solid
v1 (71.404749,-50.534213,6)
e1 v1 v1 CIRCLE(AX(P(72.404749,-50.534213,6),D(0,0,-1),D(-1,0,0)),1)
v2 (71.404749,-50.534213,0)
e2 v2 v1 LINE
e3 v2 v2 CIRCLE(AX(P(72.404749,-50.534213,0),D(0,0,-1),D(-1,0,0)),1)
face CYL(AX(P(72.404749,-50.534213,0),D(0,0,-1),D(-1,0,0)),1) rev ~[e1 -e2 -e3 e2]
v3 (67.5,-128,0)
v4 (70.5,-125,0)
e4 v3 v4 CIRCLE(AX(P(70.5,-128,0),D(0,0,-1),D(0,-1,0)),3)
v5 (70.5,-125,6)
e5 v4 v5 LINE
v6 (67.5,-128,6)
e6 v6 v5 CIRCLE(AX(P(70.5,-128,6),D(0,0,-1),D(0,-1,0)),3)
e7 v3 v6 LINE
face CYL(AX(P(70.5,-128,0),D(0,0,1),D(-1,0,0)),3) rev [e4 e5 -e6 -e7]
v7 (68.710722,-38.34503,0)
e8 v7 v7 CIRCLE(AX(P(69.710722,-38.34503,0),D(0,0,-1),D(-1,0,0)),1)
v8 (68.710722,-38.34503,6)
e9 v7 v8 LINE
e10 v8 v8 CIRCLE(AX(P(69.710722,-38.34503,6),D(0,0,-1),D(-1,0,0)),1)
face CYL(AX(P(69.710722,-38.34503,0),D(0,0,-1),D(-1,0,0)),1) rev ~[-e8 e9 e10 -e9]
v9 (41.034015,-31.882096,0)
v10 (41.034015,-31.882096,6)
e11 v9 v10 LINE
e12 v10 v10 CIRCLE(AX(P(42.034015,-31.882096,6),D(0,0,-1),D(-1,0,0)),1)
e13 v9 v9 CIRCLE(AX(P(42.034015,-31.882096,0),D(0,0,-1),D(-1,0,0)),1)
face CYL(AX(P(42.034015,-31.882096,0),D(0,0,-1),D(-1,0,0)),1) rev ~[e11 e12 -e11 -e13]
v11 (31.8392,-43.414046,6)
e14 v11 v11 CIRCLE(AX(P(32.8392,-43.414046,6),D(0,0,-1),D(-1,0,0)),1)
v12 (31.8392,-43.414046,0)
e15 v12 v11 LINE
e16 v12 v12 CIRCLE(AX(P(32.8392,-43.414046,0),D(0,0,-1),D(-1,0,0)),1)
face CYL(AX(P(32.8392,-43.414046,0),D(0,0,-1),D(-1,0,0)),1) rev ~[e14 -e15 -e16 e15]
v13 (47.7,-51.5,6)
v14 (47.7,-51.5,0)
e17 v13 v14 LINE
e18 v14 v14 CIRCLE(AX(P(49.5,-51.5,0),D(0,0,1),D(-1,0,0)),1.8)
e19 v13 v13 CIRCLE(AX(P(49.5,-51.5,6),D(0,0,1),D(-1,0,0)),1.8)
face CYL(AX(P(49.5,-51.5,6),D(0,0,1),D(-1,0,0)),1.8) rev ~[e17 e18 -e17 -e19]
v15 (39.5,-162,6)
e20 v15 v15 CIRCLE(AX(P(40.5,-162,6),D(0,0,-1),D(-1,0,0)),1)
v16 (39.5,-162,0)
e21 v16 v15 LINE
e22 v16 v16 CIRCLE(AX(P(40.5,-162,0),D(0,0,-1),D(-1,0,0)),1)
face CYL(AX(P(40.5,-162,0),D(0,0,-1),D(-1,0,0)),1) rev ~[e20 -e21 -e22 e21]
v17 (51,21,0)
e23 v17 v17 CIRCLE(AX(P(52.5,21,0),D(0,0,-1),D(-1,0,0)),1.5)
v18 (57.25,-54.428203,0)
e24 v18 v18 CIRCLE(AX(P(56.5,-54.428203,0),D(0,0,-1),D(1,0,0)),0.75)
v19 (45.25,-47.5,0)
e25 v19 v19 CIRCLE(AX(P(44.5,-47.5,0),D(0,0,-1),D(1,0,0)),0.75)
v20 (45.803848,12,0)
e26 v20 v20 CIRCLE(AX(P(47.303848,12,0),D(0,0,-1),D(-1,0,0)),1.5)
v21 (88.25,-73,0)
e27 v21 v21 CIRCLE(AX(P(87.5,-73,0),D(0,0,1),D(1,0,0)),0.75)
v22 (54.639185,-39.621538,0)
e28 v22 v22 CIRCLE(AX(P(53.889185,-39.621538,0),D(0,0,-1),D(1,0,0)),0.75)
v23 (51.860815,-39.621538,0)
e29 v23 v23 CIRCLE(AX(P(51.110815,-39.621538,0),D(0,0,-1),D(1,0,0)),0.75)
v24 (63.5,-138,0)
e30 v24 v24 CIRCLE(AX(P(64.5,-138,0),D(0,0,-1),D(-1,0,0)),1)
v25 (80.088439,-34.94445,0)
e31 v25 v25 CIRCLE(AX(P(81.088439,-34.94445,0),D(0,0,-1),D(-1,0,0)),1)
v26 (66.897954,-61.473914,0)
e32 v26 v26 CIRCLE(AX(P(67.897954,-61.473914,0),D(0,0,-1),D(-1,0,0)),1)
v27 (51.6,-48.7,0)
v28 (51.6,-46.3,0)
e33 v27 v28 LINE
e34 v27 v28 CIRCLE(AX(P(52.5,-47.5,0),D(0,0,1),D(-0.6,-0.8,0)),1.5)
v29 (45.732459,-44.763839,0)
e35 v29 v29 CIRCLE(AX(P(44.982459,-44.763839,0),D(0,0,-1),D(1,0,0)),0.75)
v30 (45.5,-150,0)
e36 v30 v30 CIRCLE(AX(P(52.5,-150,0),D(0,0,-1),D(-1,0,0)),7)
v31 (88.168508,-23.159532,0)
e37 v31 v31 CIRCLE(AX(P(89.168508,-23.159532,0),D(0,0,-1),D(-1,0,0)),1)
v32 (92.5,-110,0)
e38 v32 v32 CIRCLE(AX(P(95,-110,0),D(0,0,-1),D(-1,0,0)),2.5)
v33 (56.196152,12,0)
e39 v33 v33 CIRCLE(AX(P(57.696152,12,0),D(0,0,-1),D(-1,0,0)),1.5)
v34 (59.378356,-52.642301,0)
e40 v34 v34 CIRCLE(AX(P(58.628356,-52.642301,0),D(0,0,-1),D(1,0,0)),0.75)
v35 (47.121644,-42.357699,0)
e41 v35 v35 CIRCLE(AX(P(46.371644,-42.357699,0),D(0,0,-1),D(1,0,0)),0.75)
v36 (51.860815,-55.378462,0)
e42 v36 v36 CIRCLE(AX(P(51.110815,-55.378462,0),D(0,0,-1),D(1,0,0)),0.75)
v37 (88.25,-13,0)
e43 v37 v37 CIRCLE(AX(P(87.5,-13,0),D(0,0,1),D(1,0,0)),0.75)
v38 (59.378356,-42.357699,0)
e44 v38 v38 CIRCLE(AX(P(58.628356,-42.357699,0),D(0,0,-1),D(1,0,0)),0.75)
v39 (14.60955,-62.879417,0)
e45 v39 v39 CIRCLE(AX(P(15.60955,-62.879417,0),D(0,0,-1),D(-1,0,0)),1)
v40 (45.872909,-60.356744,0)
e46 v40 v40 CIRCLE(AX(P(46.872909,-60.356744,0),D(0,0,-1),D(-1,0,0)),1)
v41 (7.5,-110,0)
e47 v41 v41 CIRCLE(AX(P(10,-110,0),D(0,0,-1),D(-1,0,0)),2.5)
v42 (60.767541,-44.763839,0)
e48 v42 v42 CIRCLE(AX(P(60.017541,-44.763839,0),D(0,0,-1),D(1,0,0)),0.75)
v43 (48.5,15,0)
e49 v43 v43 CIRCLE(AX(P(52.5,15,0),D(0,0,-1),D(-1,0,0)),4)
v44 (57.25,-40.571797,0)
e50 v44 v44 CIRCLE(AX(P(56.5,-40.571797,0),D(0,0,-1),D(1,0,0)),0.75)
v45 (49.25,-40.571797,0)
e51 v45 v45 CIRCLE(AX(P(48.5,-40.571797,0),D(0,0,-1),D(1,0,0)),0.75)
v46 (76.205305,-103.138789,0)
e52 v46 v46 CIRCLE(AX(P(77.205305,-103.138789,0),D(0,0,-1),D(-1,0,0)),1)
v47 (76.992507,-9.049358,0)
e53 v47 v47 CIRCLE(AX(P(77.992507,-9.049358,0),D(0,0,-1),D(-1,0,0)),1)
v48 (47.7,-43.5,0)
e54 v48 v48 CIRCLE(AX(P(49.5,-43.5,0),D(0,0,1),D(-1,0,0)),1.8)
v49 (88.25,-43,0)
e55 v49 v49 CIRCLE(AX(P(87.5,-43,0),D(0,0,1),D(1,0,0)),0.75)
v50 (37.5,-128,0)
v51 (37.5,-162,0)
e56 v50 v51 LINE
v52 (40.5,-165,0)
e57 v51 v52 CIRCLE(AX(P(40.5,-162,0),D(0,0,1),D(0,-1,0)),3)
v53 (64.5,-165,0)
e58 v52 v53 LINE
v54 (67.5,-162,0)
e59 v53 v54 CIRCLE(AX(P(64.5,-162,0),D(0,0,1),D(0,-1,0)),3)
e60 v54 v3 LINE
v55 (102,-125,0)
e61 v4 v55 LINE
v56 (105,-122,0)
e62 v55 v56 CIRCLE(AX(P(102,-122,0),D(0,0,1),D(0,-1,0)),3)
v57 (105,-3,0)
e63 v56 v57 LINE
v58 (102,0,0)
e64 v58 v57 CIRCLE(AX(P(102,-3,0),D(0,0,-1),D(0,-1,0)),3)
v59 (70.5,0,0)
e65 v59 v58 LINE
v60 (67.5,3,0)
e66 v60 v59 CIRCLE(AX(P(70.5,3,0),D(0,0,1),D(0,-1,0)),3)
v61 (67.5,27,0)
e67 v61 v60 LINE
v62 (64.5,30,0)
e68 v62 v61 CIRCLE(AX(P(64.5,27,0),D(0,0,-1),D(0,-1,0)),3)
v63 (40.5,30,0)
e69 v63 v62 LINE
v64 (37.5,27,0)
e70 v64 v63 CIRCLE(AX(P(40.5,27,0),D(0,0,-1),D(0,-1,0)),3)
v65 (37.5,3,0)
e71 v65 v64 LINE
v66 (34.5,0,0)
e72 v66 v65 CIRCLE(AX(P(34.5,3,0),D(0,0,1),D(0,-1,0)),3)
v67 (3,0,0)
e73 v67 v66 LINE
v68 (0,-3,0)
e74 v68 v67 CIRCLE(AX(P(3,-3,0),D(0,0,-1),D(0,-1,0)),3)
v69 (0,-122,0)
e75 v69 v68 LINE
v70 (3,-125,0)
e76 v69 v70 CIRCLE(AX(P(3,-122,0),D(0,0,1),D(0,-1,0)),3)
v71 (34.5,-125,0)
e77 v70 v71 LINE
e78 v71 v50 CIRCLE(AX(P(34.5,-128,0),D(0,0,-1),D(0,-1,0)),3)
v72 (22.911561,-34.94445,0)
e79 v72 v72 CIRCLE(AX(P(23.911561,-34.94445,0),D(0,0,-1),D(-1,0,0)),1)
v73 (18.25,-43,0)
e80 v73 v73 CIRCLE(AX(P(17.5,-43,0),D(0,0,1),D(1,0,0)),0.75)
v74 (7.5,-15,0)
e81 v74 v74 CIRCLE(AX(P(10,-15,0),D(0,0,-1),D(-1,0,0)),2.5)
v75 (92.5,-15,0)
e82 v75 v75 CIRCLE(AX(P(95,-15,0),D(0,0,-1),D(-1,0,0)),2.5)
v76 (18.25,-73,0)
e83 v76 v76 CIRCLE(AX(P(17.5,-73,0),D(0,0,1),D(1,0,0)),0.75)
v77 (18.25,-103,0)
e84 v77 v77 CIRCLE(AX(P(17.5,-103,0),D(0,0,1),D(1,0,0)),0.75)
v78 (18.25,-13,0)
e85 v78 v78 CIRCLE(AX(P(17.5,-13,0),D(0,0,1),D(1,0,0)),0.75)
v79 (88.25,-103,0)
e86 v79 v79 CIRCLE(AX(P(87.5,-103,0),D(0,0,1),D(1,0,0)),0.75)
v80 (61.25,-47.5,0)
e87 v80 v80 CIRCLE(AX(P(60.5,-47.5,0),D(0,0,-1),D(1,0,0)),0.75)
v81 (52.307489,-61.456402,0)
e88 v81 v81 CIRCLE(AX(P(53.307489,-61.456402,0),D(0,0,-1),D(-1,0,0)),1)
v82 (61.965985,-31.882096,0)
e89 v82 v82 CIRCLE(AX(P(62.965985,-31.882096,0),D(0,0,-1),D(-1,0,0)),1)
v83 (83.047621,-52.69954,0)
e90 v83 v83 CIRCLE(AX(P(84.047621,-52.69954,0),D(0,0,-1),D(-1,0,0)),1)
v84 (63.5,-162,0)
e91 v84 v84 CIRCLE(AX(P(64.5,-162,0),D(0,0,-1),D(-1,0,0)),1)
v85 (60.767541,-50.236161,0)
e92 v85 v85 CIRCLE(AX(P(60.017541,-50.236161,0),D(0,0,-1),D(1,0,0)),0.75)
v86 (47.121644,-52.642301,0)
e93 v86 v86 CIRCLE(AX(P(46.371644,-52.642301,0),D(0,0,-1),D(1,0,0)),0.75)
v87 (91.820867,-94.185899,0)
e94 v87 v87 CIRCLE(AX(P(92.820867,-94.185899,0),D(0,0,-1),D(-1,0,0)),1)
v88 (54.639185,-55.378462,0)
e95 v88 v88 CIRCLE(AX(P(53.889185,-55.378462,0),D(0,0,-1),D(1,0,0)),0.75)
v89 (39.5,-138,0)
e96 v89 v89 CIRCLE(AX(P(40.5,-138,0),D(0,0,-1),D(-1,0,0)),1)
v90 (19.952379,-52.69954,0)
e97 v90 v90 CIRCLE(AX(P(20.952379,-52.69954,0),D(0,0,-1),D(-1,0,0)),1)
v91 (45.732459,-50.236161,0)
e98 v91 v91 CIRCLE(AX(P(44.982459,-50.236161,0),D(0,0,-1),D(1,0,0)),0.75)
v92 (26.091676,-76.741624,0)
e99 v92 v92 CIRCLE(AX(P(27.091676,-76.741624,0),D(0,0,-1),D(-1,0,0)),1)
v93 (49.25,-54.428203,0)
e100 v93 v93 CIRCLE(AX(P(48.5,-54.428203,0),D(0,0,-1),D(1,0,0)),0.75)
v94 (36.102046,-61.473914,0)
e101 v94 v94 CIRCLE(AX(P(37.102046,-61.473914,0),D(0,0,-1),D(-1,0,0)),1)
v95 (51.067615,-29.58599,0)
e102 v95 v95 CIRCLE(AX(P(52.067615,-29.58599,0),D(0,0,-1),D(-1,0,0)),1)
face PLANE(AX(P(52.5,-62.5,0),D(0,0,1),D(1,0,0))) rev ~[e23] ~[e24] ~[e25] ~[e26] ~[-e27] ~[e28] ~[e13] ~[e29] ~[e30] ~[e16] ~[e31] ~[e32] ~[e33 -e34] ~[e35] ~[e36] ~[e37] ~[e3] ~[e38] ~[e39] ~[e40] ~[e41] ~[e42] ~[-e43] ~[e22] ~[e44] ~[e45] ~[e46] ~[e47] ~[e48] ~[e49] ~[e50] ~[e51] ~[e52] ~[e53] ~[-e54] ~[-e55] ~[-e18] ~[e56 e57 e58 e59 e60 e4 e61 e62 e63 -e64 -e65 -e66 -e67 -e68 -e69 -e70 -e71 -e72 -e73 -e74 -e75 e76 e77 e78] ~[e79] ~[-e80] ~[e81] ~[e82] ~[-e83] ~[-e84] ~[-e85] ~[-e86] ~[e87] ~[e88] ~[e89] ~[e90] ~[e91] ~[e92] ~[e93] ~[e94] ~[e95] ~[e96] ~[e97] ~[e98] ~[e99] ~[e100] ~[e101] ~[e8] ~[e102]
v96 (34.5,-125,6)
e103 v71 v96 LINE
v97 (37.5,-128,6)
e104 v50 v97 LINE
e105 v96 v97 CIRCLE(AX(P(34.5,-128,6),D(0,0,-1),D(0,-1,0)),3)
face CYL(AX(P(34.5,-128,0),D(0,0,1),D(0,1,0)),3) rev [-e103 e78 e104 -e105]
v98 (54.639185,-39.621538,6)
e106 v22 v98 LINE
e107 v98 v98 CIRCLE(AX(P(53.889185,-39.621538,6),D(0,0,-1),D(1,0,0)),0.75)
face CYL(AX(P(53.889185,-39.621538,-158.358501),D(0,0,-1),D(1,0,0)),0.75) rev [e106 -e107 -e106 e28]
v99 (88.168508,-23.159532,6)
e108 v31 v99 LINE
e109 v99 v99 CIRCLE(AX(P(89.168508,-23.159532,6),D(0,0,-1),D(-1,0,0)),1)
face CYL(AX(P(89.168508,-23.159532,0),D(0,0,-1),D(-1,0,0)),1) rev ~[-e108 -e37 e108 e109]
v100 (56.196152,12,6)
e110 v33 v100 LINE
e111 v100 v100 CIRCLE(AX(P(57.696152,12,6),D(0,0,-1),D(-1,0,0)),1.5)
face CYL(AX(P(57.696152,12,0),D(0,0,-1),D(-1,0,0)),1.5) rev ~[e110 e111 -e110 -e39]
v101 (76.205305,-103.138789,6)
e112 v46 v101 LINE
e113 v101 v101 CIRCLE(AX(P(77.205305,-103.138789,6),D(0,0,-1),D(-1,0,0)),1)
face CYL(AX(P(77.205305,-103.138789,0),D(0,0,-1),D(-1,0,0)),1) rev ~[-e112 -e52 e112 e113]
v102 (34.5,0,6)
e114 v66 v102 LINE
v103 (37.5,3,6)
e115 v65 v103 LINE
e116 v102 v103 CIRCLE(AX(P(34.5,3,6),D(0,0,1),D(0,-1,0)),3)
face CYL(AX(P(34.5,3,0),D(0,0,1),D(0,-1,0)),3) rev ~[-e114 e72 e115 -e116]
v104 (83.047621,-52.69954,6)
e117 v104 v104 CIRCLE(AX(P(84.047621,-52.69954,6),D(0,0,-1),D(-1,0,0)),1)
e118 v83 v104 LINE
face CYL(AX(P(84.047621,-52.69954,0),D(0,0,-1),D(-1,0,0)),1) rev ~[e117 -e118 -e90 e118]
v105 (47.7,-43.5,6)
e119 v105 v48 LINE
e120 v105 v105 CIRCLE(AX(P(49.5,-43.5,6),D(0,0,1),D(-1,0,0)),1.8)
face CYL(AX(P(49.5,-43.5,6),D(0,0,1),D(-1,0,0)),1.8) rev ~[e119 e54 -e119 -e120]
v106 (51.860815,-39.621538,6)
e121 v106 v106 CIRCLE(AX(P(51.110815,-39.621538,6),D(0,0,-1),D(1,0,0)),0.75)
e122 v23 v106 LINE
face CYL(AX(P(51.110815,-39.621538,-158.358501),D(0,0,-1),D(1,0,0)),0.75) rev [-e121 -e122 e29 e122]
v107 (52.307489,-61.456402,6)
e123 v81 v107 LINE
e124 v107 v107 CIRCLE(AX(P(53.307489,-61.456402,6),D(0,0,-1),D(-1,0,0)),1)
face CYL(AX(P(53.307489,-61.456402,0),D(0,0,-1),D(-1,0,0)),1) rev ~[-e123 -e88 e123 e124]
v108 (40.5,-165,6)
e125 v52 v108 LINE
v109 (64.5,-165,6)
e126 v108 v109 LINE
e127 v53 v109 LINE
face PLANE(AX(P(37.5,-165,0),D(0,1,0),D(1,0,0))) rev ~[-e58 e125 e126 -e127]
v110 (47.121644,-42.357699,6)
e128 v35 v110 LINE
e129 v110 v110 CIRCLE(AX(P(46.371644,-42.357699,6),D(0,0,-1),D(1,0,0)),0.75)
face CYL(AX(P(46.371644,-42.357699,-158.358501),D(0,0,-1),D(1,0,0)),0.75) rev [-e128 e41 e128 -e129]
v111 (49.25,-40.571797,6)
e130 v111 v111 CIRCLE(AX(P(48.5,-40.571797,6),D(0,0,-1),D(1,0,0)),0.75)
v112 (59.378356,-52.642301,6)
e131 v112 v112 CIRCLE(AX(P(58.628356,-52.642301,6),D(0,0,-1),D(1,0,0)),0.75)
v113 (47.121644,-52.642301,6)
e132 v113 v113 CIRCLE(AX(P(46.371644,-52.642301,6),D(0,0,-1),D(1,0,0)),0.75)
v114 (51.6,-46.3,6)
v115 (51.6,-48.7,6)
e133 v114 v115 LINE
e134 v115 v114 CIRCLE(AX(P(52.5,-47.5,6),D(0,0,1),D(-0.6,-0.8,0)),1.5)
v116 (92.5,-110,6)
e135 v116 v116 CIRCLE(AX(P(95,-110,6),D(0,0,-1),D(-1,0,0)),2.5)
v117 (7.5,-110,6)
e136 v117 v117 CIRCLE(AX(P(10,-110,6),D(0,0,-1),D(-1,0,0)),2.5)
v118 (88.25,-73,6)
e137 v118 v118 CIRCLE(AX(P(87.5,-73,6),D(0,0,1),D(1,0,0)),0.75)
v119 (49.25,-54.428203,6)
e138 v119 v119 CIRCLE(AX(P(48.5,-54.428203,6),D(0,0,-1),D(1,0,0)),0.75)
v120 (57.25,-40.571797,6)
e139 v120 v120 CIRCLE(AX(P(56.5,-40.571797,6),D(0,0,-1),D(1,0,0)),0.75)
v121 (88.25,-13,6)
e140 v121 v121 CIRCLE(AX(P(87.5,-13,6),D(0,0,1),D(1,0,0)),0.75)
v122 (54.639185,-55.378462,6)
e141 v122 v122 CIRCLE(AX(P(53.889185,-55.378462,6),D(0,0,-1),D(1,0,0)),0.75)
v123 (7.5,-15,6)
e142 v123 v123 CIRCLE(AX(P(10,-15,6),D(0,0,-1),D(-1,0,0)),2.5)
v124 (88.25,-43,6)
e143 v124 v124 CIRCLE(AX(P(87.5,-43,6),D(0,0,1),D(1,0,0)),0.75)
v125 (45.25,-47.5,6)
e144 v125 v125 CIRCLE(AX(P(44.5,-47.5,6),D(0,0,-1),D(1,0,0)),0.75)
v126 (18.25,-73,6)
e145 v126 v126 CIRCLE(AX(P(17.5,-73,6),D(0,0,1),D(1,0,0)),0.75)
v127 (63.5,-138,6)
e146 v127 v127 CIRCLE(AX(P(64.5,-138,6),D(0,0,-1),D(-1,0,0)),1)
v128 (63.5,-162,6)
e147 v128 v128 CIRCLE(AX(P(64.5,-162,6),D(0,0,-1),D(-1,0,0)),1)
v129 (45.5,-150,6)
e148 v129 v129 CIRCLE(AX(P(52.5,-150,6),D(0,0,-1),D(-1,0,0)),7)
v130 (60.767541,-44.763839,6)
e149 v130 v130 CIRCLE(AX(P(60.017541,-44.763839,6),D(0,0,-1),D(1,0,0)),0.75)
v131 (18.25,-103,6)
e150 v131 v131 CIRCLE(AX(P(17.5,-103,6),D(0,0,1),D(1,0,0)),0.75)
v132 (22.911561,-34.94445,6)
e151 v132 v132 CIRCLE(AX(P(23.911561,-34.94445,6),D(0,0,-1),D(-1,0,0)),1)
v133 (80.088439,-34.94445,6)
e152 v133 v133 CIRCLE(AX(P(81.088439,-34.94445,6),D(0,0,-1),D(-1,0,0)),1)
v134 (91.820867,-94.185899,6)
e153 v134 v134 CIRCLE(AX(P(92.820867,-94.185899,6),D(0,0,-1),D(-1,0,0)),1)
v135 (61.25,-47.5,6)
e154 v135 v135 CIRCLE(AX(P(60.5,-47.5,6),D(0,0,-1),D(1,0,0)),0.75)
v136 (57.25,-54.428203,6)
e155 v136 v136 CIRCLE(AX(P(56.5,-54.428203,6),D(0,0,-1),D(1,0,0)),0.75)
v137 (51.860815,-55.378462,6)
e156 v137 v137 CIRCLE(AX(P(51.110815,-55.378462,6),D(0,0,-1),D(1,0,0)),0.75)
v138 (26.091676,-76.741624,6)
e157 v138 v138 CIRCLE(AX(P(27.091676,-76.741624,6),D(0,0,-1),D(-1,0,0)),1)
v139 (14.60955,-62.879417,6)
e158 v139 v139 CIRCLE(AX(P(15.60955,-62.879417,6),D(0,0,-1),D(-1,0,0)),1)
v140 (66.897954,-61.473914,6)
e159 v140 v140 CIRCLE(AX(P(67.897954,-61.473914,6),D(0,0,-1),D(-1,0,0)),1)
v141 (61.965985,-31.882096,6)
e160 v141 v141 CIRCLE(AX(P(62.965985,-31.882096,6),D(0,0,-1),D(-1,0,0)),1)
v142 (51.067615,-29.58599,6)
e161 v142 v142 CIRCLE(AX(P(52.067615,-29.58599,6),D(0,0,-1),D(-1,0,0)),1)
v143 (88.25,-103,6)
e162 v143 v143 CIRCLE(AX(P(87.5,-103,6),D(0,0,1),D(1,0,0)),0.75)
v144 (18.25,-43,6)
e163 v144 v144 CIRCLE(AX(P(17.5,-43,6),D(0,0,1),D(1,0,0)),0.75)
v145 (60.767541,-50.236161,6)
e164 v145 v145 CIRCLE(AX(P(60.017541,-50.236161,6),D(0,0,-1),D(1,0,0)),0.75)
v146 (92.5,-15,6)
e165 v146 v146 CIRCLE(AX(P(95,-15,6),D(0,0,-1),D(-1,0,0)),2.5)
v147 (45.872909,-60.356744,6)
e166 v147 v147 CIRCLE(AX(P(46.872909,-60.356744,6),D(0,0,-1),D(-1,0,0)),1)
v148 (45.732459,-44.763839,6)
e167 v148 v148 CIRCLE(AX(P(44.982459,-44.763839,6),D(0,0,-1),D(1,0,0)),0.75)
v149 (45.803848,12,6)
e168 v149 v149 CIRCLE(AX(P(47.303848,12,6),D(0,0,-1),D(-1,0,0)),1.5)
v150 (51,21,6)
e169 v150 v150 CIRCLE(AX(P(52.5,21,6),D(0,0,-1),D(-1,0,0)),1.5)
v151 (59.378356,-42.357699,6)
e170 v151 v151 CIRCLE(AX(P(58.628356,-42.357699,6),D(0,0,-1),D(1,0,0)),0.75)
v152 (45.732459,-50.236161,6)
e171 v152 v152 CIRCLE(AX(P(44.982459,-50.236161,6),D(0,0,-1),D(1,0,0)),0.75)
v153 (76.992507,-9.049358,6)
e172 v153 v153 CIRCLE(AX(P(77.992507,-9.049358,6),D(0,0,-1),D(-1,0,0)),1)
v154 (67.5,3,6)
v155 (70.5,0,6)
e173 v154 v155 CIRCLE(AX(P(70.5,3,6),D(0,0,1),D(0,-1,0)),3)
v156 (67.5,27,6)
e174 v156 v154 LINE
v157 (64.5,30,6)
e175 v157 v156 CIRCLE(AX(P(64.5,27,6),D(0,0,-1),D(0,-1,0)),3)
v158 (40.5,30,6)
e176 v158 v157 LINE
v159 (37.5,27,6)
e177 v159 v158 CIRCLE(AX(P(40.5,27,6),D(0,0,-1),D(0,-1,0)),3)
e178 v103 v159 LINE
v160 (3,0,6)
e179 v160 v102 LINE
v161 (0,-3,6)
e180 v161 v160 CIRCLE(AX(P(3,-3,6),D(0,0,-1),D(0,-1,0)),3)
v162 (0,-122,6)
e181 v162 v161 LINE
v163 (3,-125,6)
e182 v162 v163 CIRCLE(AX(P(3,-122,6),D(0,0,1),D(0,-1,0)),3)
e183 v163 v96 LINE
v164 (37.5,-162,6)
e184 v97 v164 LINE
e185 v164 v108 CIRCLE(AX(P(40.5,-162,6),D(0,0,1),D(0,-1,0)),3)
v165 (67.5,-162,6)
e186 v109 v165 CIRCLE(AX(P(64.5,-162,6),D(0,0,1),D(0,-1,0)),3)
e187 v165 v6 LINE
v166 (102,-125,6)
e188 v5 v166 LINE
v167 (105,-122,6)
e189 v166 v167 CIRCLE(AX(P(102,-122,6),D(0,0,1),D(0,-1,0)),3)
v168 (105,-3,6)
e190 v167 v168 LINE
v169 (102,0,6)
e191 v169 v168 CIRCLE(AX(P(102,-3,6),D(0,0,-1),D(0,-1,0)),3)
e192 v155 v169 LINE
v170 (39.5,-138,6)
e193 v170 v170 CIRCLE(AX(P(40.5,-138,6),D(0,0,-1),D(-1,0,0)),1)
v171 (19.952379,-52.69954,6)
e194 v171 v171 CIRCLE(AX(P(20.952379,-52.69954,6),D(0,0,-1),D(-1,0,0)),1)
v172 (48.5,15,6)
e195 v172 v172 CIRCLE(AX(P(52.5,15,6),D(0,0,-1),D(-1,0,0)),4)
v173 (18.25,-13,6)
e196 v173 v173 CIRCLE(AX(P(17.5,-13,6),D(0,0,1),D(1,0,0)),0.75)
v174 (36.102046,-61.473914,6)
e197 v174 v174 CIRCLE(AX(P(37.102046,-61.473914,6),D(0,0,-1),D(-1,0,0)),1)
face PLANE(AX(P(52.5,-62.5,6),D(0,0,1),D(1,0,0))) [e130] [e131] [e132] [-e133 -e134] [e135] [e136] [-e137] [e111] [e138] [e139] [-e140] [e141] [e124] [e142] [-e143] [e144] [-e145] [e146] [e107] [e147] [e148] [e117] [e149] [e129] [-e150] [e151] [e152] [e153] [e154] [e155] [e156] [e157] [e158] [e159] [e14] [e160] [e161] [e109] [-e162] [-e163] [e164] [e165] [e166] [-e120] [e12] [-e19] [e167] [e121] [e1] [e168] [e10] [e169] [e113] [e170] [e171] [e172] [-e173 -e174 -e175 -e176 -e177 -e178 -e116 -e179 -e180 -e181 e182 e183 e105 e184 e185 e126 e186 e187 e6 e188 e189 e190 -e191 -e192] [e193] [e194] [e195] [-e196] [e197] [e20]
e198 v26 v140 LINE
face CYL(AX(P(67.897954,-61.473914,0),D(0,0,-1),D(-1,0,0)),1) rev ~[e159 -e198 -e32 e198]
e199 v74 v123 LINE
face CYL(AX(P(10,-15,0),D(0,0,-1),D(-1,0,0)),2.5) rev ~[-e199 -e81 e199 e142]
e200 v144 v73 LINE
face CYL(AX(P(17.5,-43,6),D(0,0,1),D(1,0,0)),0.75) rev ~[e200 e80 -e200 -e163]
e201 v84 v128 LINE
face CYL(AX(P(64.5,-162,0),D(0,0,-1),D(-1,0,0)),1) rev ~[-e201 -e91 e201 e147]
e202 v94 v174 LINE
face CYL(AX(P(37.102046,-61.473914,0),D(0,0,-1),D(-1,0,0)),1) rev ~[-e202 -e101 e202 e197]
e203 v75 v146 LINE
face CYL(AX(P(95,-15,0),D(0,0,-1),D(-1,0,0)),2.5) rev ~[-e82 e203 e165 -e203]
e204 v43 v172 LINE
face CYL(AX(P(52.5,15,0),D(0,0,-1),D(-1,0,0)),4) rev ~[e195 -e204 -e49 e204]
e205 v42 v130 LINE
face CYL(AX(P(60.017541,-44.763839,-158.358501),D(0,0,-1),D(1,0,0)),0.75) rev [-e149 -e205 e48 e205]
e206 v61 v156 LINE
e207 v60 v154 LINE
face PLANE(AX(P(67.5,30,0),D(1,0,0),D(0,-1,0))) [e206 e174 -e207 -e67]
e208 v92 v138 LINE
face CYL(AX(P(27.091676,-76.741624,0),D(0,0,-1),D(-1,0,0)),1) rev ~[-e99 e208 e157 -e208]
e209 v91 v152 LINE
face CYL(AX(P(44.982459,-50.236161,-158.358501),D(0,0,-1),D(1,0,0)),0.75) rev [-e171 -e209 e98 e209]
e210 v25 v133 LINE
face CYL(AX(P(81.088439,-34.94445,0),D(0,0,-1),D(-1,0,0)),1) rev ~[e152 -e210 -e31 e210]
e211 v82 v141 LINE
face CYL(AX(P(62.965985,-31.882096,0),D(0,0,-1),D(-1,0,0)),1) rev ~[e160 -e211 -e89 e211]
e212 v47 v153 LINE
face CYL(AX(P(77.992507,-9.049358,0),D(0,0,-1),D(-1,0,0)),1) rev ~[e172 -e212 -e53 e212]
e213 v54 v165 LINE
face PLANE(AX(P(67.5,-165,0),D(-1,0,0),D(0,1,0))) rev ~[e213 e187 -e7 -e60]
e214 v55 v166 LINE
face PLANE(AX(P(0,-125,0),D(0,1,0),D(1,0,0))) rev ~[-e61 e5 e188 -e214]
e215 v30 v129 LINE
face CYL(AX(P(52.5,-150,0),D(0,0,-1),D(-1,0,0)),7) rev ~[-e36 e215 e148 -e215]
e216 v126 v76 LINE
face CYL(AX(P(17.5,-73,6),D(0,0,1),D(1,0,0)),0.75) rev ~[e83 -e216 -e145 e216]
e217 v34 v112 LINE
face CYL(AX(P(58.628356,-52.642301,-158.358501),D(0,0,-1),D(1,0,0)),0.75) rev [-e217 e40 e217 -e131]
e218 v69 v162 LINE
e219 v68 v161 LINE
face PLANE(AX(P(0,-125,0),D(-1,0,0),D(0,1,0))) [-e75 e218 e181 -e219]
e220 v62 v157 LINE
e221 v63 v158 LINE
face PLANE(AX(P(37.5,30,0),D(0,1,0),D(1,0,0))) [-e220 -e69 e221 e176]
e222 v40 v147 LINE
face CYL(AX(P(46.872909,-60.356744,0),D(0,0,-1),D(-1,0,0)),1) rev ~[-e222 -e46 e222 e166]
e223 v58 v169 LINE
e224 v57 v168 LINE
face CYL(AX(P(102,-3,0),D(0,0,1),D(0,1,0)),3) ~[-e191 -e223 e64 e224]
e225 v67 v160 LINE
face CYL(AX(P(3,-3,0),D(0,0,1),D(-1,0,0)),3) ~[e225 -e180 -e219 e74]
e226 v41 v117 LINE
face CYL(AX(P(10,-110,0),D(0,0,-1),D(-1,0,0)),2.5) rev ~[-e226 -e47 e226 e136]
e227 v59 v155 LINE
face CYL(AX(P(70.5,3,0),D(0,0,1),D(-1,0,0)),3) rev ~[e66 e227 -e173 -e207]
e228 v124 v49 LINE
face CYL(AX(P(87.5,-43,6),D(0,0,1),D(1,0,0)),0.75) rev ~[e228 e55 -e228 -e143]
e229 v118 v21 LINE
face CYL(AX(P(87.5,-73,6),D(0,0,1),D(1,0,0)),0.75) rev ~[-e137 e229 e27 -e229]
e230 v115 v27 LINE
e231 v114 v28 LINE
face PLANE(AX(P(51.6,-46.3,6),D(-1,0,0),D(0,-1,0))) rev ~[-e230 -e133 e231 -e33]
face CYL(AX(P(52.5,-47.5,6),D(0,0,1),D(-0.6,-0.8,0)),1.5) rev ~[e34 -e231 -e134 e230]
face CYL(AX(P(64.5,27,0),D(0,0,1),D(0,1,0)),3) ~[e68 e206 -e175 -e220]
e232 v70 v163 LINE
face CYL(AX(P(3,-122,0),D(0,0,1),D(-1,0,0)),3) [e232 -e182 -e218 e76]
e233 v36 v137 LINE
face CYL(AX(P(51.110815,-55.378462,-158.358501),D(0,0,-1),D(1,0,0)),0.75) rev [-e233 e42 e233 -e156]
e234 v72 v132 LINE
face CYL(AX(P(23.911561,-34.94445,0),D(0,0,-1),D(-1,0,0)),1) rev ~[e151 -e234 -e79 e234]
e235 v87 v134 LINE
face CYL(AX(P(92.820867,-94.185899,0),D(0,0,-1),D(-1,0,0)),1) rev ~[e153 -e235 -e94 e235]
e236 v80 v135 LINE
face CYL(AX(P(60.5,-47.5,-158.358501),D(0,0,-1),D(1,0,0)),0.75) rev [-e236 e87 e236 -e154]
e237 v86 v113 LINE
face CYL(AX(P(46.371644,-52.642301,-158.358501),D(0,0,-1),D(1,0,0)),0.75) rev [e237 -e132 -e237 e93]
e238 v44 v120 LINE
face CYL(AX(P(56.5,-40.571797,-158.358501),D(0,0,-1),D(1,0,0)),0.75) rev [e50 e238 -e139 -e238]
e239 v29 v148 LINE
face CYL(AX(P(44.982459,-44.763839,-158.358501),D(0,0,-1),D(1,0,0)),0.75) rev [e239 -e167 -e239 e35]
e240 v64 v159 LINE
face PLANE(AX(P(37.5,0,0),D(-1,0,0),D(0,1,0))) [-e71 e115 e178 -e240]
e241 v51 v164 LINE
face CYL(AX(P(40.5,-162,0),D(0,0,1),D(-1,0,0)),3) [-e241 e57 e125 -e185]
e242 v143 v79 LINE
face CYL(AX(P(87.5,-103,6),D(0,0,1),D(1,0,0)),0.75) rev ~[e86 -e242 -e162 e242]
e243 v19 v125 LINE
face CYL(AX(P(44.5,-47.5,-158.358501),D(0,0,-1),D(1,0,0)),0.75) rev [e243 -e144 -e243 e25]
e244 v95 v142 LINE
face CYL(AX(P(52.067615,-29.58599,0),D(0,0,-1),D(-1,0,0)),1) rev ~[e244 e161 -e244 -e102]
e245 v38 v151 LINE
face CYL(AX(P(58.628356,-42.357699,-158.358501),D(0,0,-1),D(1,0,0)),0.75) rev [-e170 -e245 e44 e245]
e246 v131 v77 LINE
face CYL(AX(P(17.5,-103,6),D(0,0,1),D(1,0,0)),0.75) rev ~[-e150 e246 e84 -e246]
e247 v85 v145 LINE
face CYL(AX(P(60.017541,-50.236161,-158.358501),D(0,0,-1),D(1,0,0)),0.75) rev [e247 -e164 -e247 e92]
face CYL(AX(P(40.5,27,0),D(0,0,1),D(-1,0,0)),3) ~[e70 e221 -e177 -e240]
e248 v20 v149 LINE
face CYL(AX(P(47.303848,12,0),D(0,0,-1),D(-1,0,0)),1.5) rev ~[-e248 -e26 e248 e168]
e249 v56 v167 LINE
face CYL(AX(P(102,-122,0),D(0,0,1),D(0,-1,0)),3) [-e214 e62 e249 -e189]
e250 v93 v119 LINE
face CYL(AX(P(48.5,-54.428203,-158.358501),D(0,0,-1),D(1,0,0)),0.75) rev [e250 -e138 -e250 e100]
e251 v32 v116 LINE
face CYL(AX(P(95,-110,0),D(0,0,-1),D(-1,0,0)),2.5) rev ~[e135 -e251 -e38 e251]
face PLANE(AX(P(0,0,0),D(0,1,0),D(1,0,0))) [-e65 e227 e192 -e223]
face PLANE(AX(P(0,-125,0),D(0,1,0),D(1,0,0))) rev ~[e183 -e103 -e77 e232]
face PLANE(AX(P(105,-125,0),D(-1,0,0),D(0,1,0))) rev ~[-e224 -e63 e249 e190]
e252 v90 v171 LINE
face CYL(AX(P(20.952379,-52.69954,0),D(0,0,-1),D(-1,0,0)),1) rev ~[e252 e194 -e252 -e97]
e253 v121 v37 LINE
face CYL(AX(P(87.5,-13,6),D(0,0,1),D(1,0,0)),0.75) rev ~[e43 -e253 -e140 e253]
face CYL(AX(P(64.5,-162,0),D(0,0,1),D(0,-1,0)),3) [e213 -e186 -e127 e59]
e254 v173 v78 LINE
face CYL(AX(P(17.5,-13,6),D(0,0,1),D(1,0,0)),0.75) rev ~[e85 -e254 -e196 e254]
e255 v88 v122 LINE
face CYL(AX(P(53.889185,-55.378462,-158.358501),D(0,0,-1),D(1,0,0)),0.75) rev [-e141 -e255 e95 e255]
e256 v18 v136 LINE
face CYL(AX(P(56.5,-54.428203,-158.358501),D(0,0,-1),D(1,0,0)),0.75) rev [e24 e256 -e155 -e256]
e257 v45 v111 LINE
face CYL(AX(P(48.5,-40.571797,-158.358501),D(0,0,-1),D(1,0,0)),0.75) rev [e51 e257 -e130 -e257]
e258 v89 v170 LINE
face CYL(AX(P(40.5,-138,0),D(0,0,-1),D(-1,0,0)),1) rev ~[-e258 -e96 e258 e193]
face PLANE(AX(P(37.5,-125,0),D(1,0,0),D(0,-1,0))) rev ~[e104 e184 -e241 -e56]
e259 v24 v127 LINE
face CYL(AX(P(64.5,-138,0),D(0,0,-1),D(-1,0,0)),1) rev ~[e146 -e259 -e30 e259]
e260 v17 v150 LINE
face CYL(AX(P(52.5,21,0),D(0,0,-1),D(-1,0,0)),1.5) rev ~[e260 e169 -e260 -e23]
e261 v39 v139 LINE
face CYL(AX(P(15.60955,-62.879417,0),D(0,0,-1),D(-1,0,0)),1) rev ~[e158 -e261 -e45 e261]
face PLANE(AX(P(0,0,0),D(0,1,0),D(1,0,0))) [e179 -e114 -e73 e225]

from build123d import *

# Parameters (mm, degrees)
SKETCH_1_W                      = 105
SKETCH_1_H                      = 125
EXTRUDE_1_DEPTH                 = 6
CUT_EXTRUDE_1_REACH             = 165.359
SKETCH_2_R                      = 0.75
FILLET_1_R                      = 3
CUT_EXTRUDE_2_REACH             = 165.359
SKETCH_3_R                      = 1.8
CUT_EXTRUDE_2_DIRECTION_2_DEPTH = 164.358501462
CUT_EXTRUDE1_DEPTH              = 164.358501462
CUT_EXTRUDE1_DEPTH_BACK         = 164.358501462
SKETCH1_R                       = 0.75
CUT_EXTRUDE2_REACH              = 165.359
SKETCH2_R                       = 1
BOSS_EXTRUDE1_DEPTH             = 6
CUT_EXTRUDE3_REACH              = 197.668
SKETCH4_R                       = 4
SKETCH4_R_2                     = 1.5
FILLET1_R                       = 3
CUT_EXTRUDE4_REACH              = 197.668
SKETCH5_R                       = 2.5
CUT_EXTRUDE5_REACH              = 197.668
SKETCH6_R                       = 1
SKETCH6_R_2                     = 7
FILLET2_R                       = 3


with BuildPart() as part:
    # 草图1 → 凸台-拉伸1 (new body)
    with BuildSketch(Plane.XY):
        with Locations((52.5, -62.5)):
            Rectangle(SKETCH_1_W, SKETCH_1_H)
    extrude(amount=EXTRUDE_1_DEPTH)

    # 草图2 → 切除-拉伸1 (cut, up to next)
    with BuildSketch(Plane.XY.offset(6), mode=Mode.PRIVATE) as cut_extrude_1_sk1:
        with Locations((17.5, -13)):
            Circle(SKETCH_2_R)
    cut_extrude_1_tool1 = extrude(cut_extrude_1_sk1.sketch, amount=-CUT_EXTRUDE_1_REACH, mode=Mode.PRIVATE) & part.part
    # 草图2 → 切除-拉伸1 (cut, up to next)
    with BuildSketch(Plane.XY.offset(6), mode=Mode.PRIVATE) as cut_extrude_1_sk2:
        with Locations((87.5, -13)):
            Circle(SKETCH_2_R)
    cut_extrude_1_tool2 = extrude(cut_extrude_1_sk2.sketch, amount=-CUT_EXTRUDE_1_REACH, mode=Mode.PRIVATE) & part.part
    # 草图2 → 切除-拉伸1 (cut, up to next)
    with BuildSketch(Plane.XY.offset(6), mode=Mode.PRIVATE) as cut_extrude_1_sk3:
        with Locations((87.5, -43)):
            Circle(SKETCH_2_R)
    cut_extrude_1_tool3 = extrude(cut_extrude_1_sk3.sketch, amount=-CUT_EXTRUDE_1_REACH, mode=Mode.PRIVATE) & part.part
    # 草图2 → 切除-拉伸1 (cut, up to next)
    with BuildSketch(Plane.XY.offset(6), mode=Mode.PRIVATE) as cut_extrude_1_sk4:
        with Locations((87.5, -73)):
            Circle(SKETCH_2_R)
    cut_extrude_1_tool4 = extrude(cut_extrude_1_sk4.sketch, amount=-CUT_EXTRUDE_1_REACH, mode=Mode.PRIVATE) & part.part
    # 草图2 → 切除-拉伸1 (cut, up to next)
    with BuildSketch(Plane.XY.offset(6), mode=Mode.PRIVATE) as cut_extrude_1_sk5:
        with Locations((87.5, -103)):
            Circle(SKETCH_2_R)
    cut_extrude_1_tool5 = extrude(cut_extrude_1_sk5.sketch, amount=-CUT_EXTRUDE_1_REACH, mode=Mode.PRIVATE) & part.part
    # 草图2 → 切除-拉伸1 (cut, up to next)
    with BuildSketch(Plane.XY.offset(6), mode=Mode.PRIVATE) as cut_extrude_1_sk6:
        with Locations((17.5, -43)):
            Circle(SKETCH_2_R)
    cut_extrude_1_tool6 = extrude(cut_extrude_1_sk6.sketch, amount=-CUT_EXTRUDE_1_REACH, mode=Mode.PRIVATE) & part.part
    # 草图2 → 切除-拉伸1 (cut, up to next)
    with BuildSketch(Plane.XY.offset(6), mode=Mode.PRIVATE) as cut_extrude_1_sk7:
        with Locations((17.5, -73)):
            Circle(SKETCH_2_R)
    cut_extrude_1_tool7 = extrude(cut_extrude_1_sk7.sketch, amount=-CUT_EXTRUDE_1_REACH, mode=Mode.PRIVATE) & part.part
    # 草图2 → 切除-拉伸1 (cut, up to next)
    with BuildSketch(Plane.XY.offset(6), mode=Mode.PRIVATE) as cut_extrude_1_sk8:
        with Locations((17.5, -103)):
            Circle(SKETCH_2_R)
    cut_extrude_1_tool8 = extrude(cut_extrude_1_sk8.sketch, amount=-CUT_EXTRUDE_1_REACH, mode=Mode.PRIVATE) & part.part
    add(cut_extrude_1_tool1.solids().sort_by_distance((17.5, -13, 6))[0], mode=Mode.SUBTRACT)
    add(cut_extrude_1_tool2.solids().sort_by_distance((87.5, -13, 6))[0], mode=Mode.SUBTRACT)
    add(cut_extrude_1_tool3.solids().sort_by_distance((87.5, -43, 6))[0], mode=Mode.SUBTRACT)
    add(cut_extrude_1_tool4.solids().sort_by_distance((87.5, -73, 6))[0], mode=Mode.SUBTRACT)
    add(cut_extrude_1_tool5.solids().sort_by_distance((87.5, -103, 6))[0], mode=Mode.SUBTRACT)
    add(cut_extrude_1_tool6.solids().sort_by_distance((17.5, -43, 6))[0], mode=Mode.SUBTRACT)
    add(cut_extrude_1_tool7.solids().sort_by_distance((17.5, -73, 6))[0], mode=Mode.SUBTRACT)
    add(cut_extrude_1_tool8.solids().sort_by_distance((17.5, -103, 6))[0], mode=Mode.SUBTRACT)

    # 圆角1
    fillet_1_edges = [part.edges().sort_by_distance(p)[0] for p in [
        (0, 0, 3),
        (105, 0, 3),
        (105, -125, 3),
        (0, -125, 3),
    ]]
    fillet(fillet_1_edges, radius=FILLET_1_R)

    # 草图3 → 切除-拉伸2 (cut, up to next)
    with BuildSketch(Plane.XY.offset(6), mode=Mode.PRIVATE) as cut_extrude_2_sk1:
        with Locations(Location((49.5, -43.5, 0), (0, 0, 180))):
            Circle(SKETCH_3_R)
    cut_extrude_2_tool1 = extrude(cut_extrude_2_sk1.sketch, amount=-CUT_EXTRUDE_2_REACH, mode=Mode.PRIVATE) & part.part
    # 草图3 → 切除-拉伸2 (cut, up to next)
    with BuildSketch(Plane.XY.offset(6), mode=Mode.PRIVATE) as cut_extrude_2_sk2:
        with Locations(Location((49.5, -51.5, 0), (0, 0, 180))):
            Circle(SKETCH_3_R)
    cut_extrude_2_tool2 = extrude(cut_extrude_2_sk2.sketch, amount=-CUT_EXTRUDE_2_REACH, mode=Mode.PRIVATE) & part.part
    # 草图3 → 切除-拉伸2 (cut, up to next)
    with BuildSketch(Plane.XY.offset(6), mode=Mode.PRIVATE) as cut_extrude_2_sk3:
        with BuildLine():
            Line((51.6, -46.3), (51.6, -48.7))
            ThreePointArc((51.6, -48.7), (54, -47.5), (51.6, -46.3))
        make_face()
    cut_extrude_2_tool3 = extrude(cut_extrude_2_sk3.sketch, amount=-CUT_EXTRUDE_2_REACH, mode=Mode.PRIVATE) & part.part
    add(cut_extrude_2_tool1.solids().sort_by_distance((49.5, -43.5, 6))[0], mode=Mode.SUBTRACT)
    add(cut_extrude_2_tool2.solids().sort_by_distance((49.5, -51.5, 6))[0], mode=Mode.SUBTRACT)
    add(cut_extrude_2_tool3.solids().sort_by_distance((52.690031, -47.5, 6))[0], mode=Mode.SUBTRACT)

    # 草图3 → 切除-拉伸2 direction 2 (cut)
    with BuildSketch(Plane.XY.offset(6)):
        with Locations(Location((49.5, -43.5, 0), (0, 0, 180))):
            Circle(SKETCH_3_R)
        with Locations(Location((49.5, -51.5, 0), (0, 0, 180))):
            Circle(SKETCH_3_R)
        with BuildLine():
            Line((51.6, -46.3), (51.6, -48.7))
            ThreePointArc((51.6, -48.7), (54, -47.5), (51.6, -46.3))
        make_face()
    extrude(amount=CUT_EXTRUDE_2_DIRECTION_2_DEPTH, mode=Mode.SUBTRACT)

    # Sketch1 → Cut-Extrude1 (cut, two sides: drawn at the far end of the back side and taken through both)
    with BuildSketch(Plane.XY.offset(6).offset(-CUT_EXTRUDE1_DEPTH_BACK)):
        with Locations((60.5, -47.5)):
            Circle(SKETCH1_R)
        with Locations((60.017540966, -50.236161147)):
            Circle(SKETCH1_R)
        with Locations((58.628355545, -52.642300877)):
            Circle(SKETCH1_R)
        with Locations((56.5, -54.42820323)):
            Circle(SKETCH1_R)
        with Locations((53.889185421, -55.378462024)):
            Circle(SKETCH1_R)
        with Locations((51.110814579, -55.378462024)):
            Circle(SKETCH1_R)
        with Locations((48.5, -54.42820323)):
            Circle(SKETCH1_R)
        with Locations((46.371644455, -52.642300877)):
            Circle(SKETCH1_R)
        with Locations((44.982459034, -50.236161147)):
            Circle(SKETCH1_R)
        with Locations((44.5, -47.5)):
            Circle(SKETCH1_R)
        with Locations((44.982459034, -44.763838853)):
            Circle(SKETCH1_R)
        with Locations((46.371644455, -42.357699123)):
            Circle(SKETCH1_R)
        with Locations((48.5, -40.57179677)):
            Circle(SKETCH1_R)
        with Locations((51.110814579, -39.621537976)):
            Circle(SKETCH1_R)
        with Locations((53.889185421, -39.621537976)):
            Circle(SKETCH1_R)
        with Locations((56.5, -40.57179677)):
            Circle(SKETCH1_R)
        with Locations((58.628355545, -42.357699123)):
            Circle(SKETCH1_R)
        with Locations((60.017540966, -44.763838853)):
            Circle(SKETCH1_R)
    extrude(amount=CUT_EXTRUDE1_DEPTH + CUT_EXTRUDE1_DEPTH_BACK, mode=Mode.SUBTRACT)

    # Sketch2 → Cut-Extrude2 (cut, up to next)
    with BuildSketch(Plane(origin=(0, 0, 0), x_dir=(-1, 0, 0), z_dir=(0, 0, -1)), mode=Mode.PRIVATE) as cut_extrude2_sk1:
        with Locations((-52.067615127, -29.585989519)):
            Circle(SKETCH2_R)
    cut_extrude2_tool1 = extrude(cut_extrude2_sk1.sketch, amount=-CUT_EXTRUDE2_REACH, mode=Mode.PRIVATE) & part.part
    # Sketch2 → Cut-Extrude2 (cut, up to next)
    with BuildSketch(Plane(origin=(0, 0, 0), x_dir=(-1, 0, 0), z_dir=(0, 0, -1)), mode=Mode.PRIVATE) as cut_extrude2_sk2:
        with Locations((-77.992506667, -9.049358214)):
            Circle(SKETCH2_R)
    cut_extrude2_tool2 = extrude(cut_extrude2_sk2.sketch, amount=-CUT_EXTRUDE2_REACH, mode=Mode.PRIVATE) & part.part
    # Sketch2 → Cut-Extrude2 (cut, up to next)
    with BuildSketch(Plane(origin=(0, 0, 0), x_dir=(-1, 0, 0), z_dir=(0, 0, -1)), mode=Mode.PRIVATE) as cut_extrude2_sk3:
        with Locations((-89.168508169, -23.159531509)):
            Circle(SKETCH2_R)
    cut_extrude2_tool3 = extrude(cut_extrude2_sk3.sketch, amount=-CUT_EXTRUDE2_REACH, mode=Mode.PRIVATE) & part.part
    # Sketch2 → Cut-Extrude2 (cut, up to next)
    with BuildSketch(Plane(origin=(0, 0, 0), x_dir=(-1, 0, 0), z_dir=(0, 0, -1)), mode=Mode.PRIVATE) as cut_extrude2_sk4:
        with Locations((-15.609550232, -62.879417029)):
            Circle(SKETCH2_R)
    cut_extrude2_tool4 = extrude(cut_extrude2_sk4.sketch, amount=-CUT_EXTRUDE2_REACH, mode=Mode.PRIVATE) & part.part
    # Sketch2 → Cut-Extrude2 (cut, up to next)
    with BuildSketch(Plane(origin=(0, 0, 0), x_dir=(-1, 0, 0), z_dir=(0, 0, -1)), mode=Mode.PRIVATE) as cut_extrude2_sk5:
        with Locations((-27.091675985, -76.741624219)):
            Circle(SKETCH2_R)
    cut_extrude2_tool5 = extrude(cut_extrude2_sk5.sketch, amount=-CUT_EXTRUDE2_REACH, mode=Mode.PRIVATE) & part.part
    # Sketch2 → Cut-Extrude2 (cut, up to next)
    with BuildSketch(Plane(origin=(0, 0, 0), x_dir=(-1, 0, 0), z_dir=(0, 0, -1)), mode=Mode.PRIVATE) as cut_extrude2_sk6:
        with Locations((-46.872908802, -60.356744118)):
            Circle(SKETCH2_R)
    cut_extrude2_tool6 = extrude(cut_extrude2_sk6.sketch, amount=-CUT_EXTRUDE2_REACH, mode=Mode.PRIVATE) & part.part
    # Sketch2 → Cut-Extrude2 (cut, up to next)
    with BuildSketch(Plane(origin=(0, 0, 0), x_dir=(-1, 0, 0), z_dir=(0, 0, -1)), mode=Mode.PRIVATE) as cut_extrude2_sk7:
        with Locations((-53.307488675, -61.456401839)):
            Circle(SKETCH2_R)
    cut_extrude2_tool7 = extrude(cut_extrude2_sk7.sketch, amount=-CUT_EXTRUDE2_REACH, mode=Mode.PRIVATE) & part.part
    # Sketch2 → Cut-Extrude2 (cut, up to next)
    with BuildSketch(Plane(origin=(0, 0, 0), x_dir=(-1, 0, 0), z_dir=(0, 0, -1)), mode=Mode.PRIVATE) as cut_extrude2_sk8:
        with Locations((-92.82086687, -94.185899039)):
            Circle(SKETCH2_R)
    cut_extrude2_tool8 = extrude(cut_extrude2_sk8.sketch, amount=-CUT_EXTRUDE2_REACH, mode=Mode.PRIVATE) & part.part
    # Sketch2 → Cut-Extrude2 (cut, up to next)
    with BuildSketch(Plane(origin=(0, 0, 0), x_dir=(-1, 0, 0), z_dir=(0, 0, -1)), mode=Mode.PRIVATE) as cut_extrude2_sk9:
        with Locations((-77.205305366, -103.138789015)):
            Circle(SKETCH2_R)
    cut_extrude2_tool9 = extrude(cut_extrude2_sk9.sketch, amount=-CUT_EXTRUDE2_REACH, mode=Mode.PRIVATE) & part.part
    # Sketch2 → Cut-Extrude2 (cut, up to next)
    with BuildSketch(Plane(origin=(0, 0, 0), x_dir=(-1, 0, 0), z_dir=(0, 0, -1)), mode=Mode.PRIVATE) as cut_extrude2_sk10:
        with Locations((-81.088439495, -34.944449622)):
            Circle(SKETCH2_R)
    cut_extrude2_tool10 = extrude(cut_extrude2_sk10.sketch, amount=-CUT_EXTRUDE2_REACH, mode=Mode.PRIVATE) & part.part
    # Sketch2 → Cut-Extrude2 (cut, up to next)
    with BuildSketch(Plane(origin=(0, 0, 0), x_dir=(-1, 0, 0), z_dir=(0, 0, -1)), mode=Mode.PRIVATE) as cut_extrude2_sk11:
        with Locations((-84.047621267, -52.699540251)):
            Circle(SKETCH2_R)
    cut_extrude2_tool11 = extrude(cut_extrude2_sk11.sketch, amount=-CUT_EXTRUDE2_REACH, mode=Mode.PRIVATE) & part.part
    # Sketch2 → Cut-Extrude2 (cut, up to next)
    with BuildSketch(Plane(origin=(0, 0, 0), x_dir=(-1, 0, 0), z_dir=(0, 0, -1)), mode=Mode.PRIVATE) as cut_extrude2_sk12:
        with Locations((-23.911560505, -34.944449622)):
            Circle(SKETCH2_R)
    cut_extrude2_tool12 = extrude(cut_extrude2_sk12.sketch, amount=-CUT_EXTRUDE2_REACH, mode=Mode.PRIVATE) & part.part
    # Sketch2 → Cut-Extrude2 (cut, up to next)
    with BuildSketch(Plane(origin=(0, 0, 0), x_dir=(-1, 0, 0), z_dir=(0, 0, -1)), mode=Mode.PRIVATE) as cut_extrude2_sk13:
        with Locations((-20.952378733, -52.699540251)):
            Circle(SKETCH2_R)
    cut_extrude2_tool13 = extrude(cut_extrude2_sk13.sketch, amount=-CUT_EXTRUDE2_REACH, mode=Mode.PRIVATE) & part.part
    # Sketch2 → Cut-Extrude2 (cut, up to next)
    with BuildSketch(Plane(origin=(0, 0, 0), x_dir=(-1, 0, 0), z_dir=(0, 0, -1)), mode=Mode.PRIVATE) as cut_extrude2_sk14:
        with Locations((-62.96598481, -31.882096206)):
            Circle(SKETCH2_R)
    cut_extrude2_tool14 = extrude(cut_extrude2_sk14.sketch, amount=-CUT_EXTRUDE2_REACH, mode=Mode.PRIVATE) & part.part
    # Sketch2 → Cut-Extrude2 (cut, up to next)
    with BuildSketch(Plane(origin=(0, 0, 0), x_dir=(-1, 0, 0), z_dir=(0, 0, -1)), mode=Mode.PRIVATE) as cut_extrude2_sk15:
        with Locations((-67.897954429, -61.473913921)):
            Circle(SKETCH2_R)
    cut_extrude2_tool15 = extrude(cut_extrude2_sk15.sketch, amount=-CUT_EXTRUDE2_REACH, mode=Mode.PRIVATE) & part.part
    # Sketch2 → Cut-Extrude2 (cut, up to next)
    with BuildSketch(Plane(origin=(0, 0, 0), x_dir=(-1, 0, 0), z_dir=(0, 0, -1)), mode=Mode.PRIVATE) as cut_extrude2_sk16:
        with Locations((-42.03401519, -31.882096206)):
            Circle(SKETCH2_R)
    cut_extrude2_tool16 = extrude(cut_extrude2_sk16.sketch, amount=-CUT_EXTRUDE2_REACH, mode=Mode.PRIVATE) & part.part
    # Sketch2 → Cut-Extrude2 (cut, up to next)
    with BuildSketch(Plane(origin=(0, 0, 0), x_dir=(-1, 0, 0), z_dir=(0, 0, -1)), mode=Mode.PRIVATE) as cut_extrude2_sk17:
        with Locations((-37.102045571, -61.473913921)):
            Circle(SKETCH2_R)
    cut_extrude2_tool17 = extrude(cut_extrude2_sk17.sketch, amount=-CUT_EXTRUDE2_REACH, mode=Mode.PRIVATE) & part.part
    # Sketch2 → Cut-Extrude2 (cut, up to next)
    with BuildSketch(Plane(origin=(0, 0, 0), x_dir=(-1, 0, 0), z_dir=(0, 0, -1)), mode=Mode.PRIVATE) as cut_extrude2_sk18:
        with Locations((-72.404748825, -50.534212943)):
            Circle(SKETCH2_R)
    cut_extrude2_tool18 = extrude(cut_extrude2_sk18.sketch, amount=-CUT_EXTRUDE2_REACH, mode=Mode.PRIVATE) & part.part
    # Sketch2 → Cut-Extrude2 (cut, up to next)
    with BuildSketch(Plane(origin=(0, 0, 0), x_dir=(-1, 0, 0), z_dir=(0, 0, -1)), mode=Mode.PRIVATE) as cut_extrude2_sk19:
        with Locations((-32.839199548, -43.414046441)):
            Circle(SKETCH2_R)
    cut_extrude2_tool19 = extrude(cut_extrude2_sk19.sketch, amount=-CUT_EXTRUDE2_REACH, mode=Mode.PRIVATE) & part.part
    # Sketch2 → Cut-Extrude2 (cut, up to next)
    with BuildSketch(Plane(origin=(0, 0, 0), x_dir=(-1, 0, 0), z_dir=(0, 0, -1)), mode=Mode.PRIVATE) as cut_extrude2_sk20:
        with Locations((-69.710721853, -38.345029708)):
            Circle(SKETCH2_R)
    cut_extrude2_tool20 = extrude(cut_extrude2_sk20.sketch, amount=-CUT_EXTRUDE2_REACH, mode=Mode.PRIVATE) & part.part
    add(cut_extrude2_tool1.solids().sort_by_distance((52.067615, -29.58599, 0))[0], mode=Mode.SUBTRACT)
    add(cut_extrude2_tool2.solids().sort_by_distance((77.992507, -9.049358, 0))[0], mode=Mode.SUBTRACT)
    add(cut_extrude2_tool3.solids().sort_by_distance((89.168508, -23.159532, 0))[0], mode=Mode.SUBTRACT)
    add(cut_extrude2_tool4.solids().sort_by_distance((15.60955, -62.879417, 0))[0], mode=Mode.SUBTRACT)
    add(cut_extrude2_tool5.solids().sort_by_distance((27.091676, -76.741624, 0))[0], mode=Mode.SUBTRACT)
    add(cut_extrude2_tool6.solids().sort_by_distance((46.872909, -60.356744, 0))[0], mode=Mode.SUBTRACT)
    add(cut_extrude2_tool7.solids().sort_by_distance((53.307489, -61.456402, 0))[0], mode=Mode.SUBTRACT)
    add(cut_extrude2_tool8.solids().sort_by_distance((92.820867, -94.185899, 0))[0], mode=Mode.SUBTRACT)
    add(cut_extrude2_tool9.solids().sort_by_distance((77.205305, -103.138789, 0))[0], mode=Mode.SUBTRACT)
    add(cut_extrude2_tool10.solids().sort_by_distance((81.088439, -34.94445, 0))[0], mode=Mode.SUBTRACT)
    add(cut_extrude2_tool11.solids().sort_by_distance((84.047621, -52.69954, 0))[0], mode=Mode.SUBTRACT)
    add(cut_extrude2_tool12.solids().sort_by_distance((23.911561, -34.94445, 0))[0], mode=Mode.SUBTRACT)
    add(cut_extrude2_tool13.solids().sort_by_distance((20.952379, -52.69954, 0))[0], mode=Mode.SUBTRACT)
    add(cut_extrude2_tool14.solids().sort_by_distance((62.965985, -31.882096, 0))[0], mode=Mode.SUBTRACT)
    add(cut_extrude2_tool15.solids().sort_by_distance((67.897954, -61.473914, 0))[0], mode=Mode.SUBTRACT)
    add(cut_extrude2_tool16.solids().sort_by_distance((42.034015, -31.882096, 0))[0], mode=Mode.SUBTRACT)
    add(cut_extrude2_tool17.solids().sort_by_distance((37.102046, -61.473914, 0))[0], mode=Mode.SUBTRACT)
    add(cut_extrude2_tool18.solids().sort_by_distance((72.404749, -50.534213, 0))[0], mode=Mode.SUBTRACT)
    add(cut_extrude2_tool19.solids().sort_by_distance((32.8392, -43.414046, 0))[0], mode=Mode.SUBTRACT)
    add(cut_extrude2_tool20.solids().sort_by_distance((69.710722, -38.34503, 0))[0], mode=Mode.SUBTRACT)

    # Sketch3 → Boss-Extrude1 (add)
    with BuildSketch(Plane(origin=(0, 0, 0), x_dir=(-1, 0, 0), z_dir=(0, 0, -1))):
        Polygon((-52.5, 0), (-37.5, 0), (-37.5, 30), (-67.5, 30), (-67.5, 0), align=None)
        Polygon((-52.5, -125), (-37.5, -125), (-37.5, -165), (-67.5, -165), (-67.5, -125), align=None)
    extrude(amount=-BOSS_EXTRUDE1_DEPTH)

    # Sketch4 → Cut-Extrude3 (cut, up to next)
    with BuildSketch(Plane(origin=(0, 0, 0), x_dir=(-1, 0, 0), z_dir=(0, 0, -1)), mode=Mode.PRIVATE) as cut_extrude3_sk1:
        with Locations((-52.5, 15)):
            Circle(SKETCH4_R)
    cut_extrude3_tool1 = extrude(cut_extrude3_sk1.sketch, amount=-CUT_EXTRUDE3_REACH, mode=Mode.PRIVATE) & part.part
    # Sketch4 → Cut-Extrude3 (cut, up to next)
    with BuildSketch(Plane(origin=(0, 0, 0), x_dir=(-1, 0, 0), z_dir=(0, 0, -1)), mode=Mode.PRIVATE) as cut_extrude3_sk2:
        with Locations((-52.5, 21)):
            Circle(SKETCH4_R_2)
    cut_extrude3_tool2 = extrude(cut_extrude3_sk2.sketch, amount=-CUT_EXTRUDE3_REACH, mode=Mode.PRIVATE) & part.part
    # Sketch4 → Cut-Extrude3 (cut, up to next)
    with BuildSketch(Plane(origin=(0, 0, 0), x_dir=(-1, 0, 0), z_dir=(0, 0, -1)), mode=Mode.PRIVATE) as cut_extrude3_sk3:
        with Locations((-47.303847577, 12)):
            Circle(SKETCH4_R_2)
    cut_extrude3_tool3 = extrude(cut_extrude3_sk3.sketch, amount=-CUT_EXTRUDE3_REACH, mode=Mode.PRIVATE) & part.part
    # Sketch4 → Cut-Extrude3 (cut, up to next)
    with BuildSketch(Plane(origin=(0, 0, 0), x_dir=(-1, 0, 0), z_dir=(0, 0, -1)), mode=Mode.PRIVATE) as cut_extrude3_sk4:
        with Locations((-57.696152423, 12)):
            Circle(SKETCH4_R_2)
    cut_extrude3_tool4 = extrude(cut_extrude3_sk4.sketch, amount=-CUT_EXTRUDE3_REACH, mode=Mode.PRIVATE) & part.part
    add(cut_extrude3_tool1.solids().sort_by_distance((52.5, 15, 0))[0], mode=Mode.SUBTRACT)
    add(cut_extrude3_tool2.solids().sort_by_distance((52.5, 21, 0))[0], mode=Mode.SUBTRACT)
    add(cut_extrude3_tool3.solids().sort_by_distance((47.303848, 12, 0))[0], mode=Mode.SUBTRACT)
    add(cut_extrude3_tool4.solids().sort_by_distance((57.696152, 12, 0))[0], mode=Mode.SUBTRACT)

    # Fillet1
    fillet1_edges = [part.edges().sort_by_distance(p)[0] for p in [
        (67.5, 0, 3),
        (67.5, 30, 3),
        (37.5, 30, 3),
        (37.5, 0, 3),
    ]]
    fillet(fillet1_edges, radius=FILLET1_R)

    # Sketch5 → Cut-Extrude4 (cut, up to next)
    with BuildSketch(Plane(origin=(0, 0, 0), x_dir=(-1, 0, 0), z_dir=(0, 0, -1)), mode=Mode.PRIVATE) as cut_extrude4_sk1:
        with Locations((-95, -15)):
            Circle(SKETCH5_R)
    cut_extrude4_tool1 = extrude(cut_extrude4_sk1.sketch, amount=-CUT_EXTRUDE4_REACH, mode=Mode.PRIVATE) & part.part
    # Sketch5 → Cut-Extrude4 (cut, up to next)
    with BuildSketch(Plane(origin=(0, 0, 0), x_dir=(-1, 0, 0), z_dir=(0, 0, -1)), mode=Mode.PRIVATE) as cut_extrude4_sk2:
        with Locations((-95, -110)):
            Circle(SKETCH5_R)
    cut_extrude4_tool2 = extrude(cut_extrude4_sk2.sketch, amount=-CUT_EXTRUDE4_REACH, mode=Mode.PRIVATE) & part.part
    # Sketch5 → Cut-Extrude4 (cut, up to next)
    with BuildSketch(Plane(origin=(0, 0, 0), x_dir=(-1, 0, 0), z_dir=(0, 0, -1)), mode=Mode.PRIVATE) as cut_extrude4_sk3:
        with Locations((-10, -15)):
            Circle(SKETCH5_R)
    cut_extrude4_tool3 = extrude(cut_extrude4_sk3.sketch, amount=-CUT_EXTRUDE4_REACH, mode=Mode.PRIVATE) & part.part
    # Sketch5 → Cut-Extrude4 (cut, up to next)
    with BuildSketch(Plane(origin=(0, 0, 0), x_dir=(-1, 0, 0), z_dir=(0, 0, -1)), mode=Mode.PRIVATE) as cut_extrude4_sk4:
        with Locations((-10, -110)):
            Circle(SKETCH5_R)
    cut_extrude4_tool4 = extrude(cut_extrude4_sk4.sketch, amount=-CUT_EXTRUDE4_REACH, mode=Mode.PRIVATE) & part.part
    add(cut_extrude4_tool1.solids().sort_by_distance((95, -15, 0))[0], mode=Mode.SUBTRACT)
    add(cut_extrude4_tool2.solids().sort_by_distance((95, -110, 0))[0], mode=Mode.SUBTRACT)
    add(cut_extrude4_tool3.solids().sort_by_distance((10, -15, 0))[0], mode=Mode.SUBTRACT)
    add(cut_extrude4_tool4.solids().sort_by_distance((10, -110, 0))[0], mode=Mode.SUBTRACT)

    # Sketch6 → Cut-Extrude5 (cut, up to next)
    with BuildSketch(Plane(origin=(0, 0, 0), x_dir=(-1, 0, 0), z_dir=(0, 0, -1)), mode=Mode.PRIVATE) as cut_extrude5_sk1:
        with Locations((-64.5, -138)):
            Circle(SKETCH6_R)
    cut_extrude5_tool1 = extrude(cut_extrude5_sk1.sketch, amount=-CUT_EXTRUDE5_REACH, mode=Mode.PRIVATE) & part.part
    # Sketch6 → Cut-Extrude5 (cut, up to next)
    with BuildSketch(Plane(origin=(0, 0, 0), x_dir=(-1, 0, 0), z_dir=(0, 0, -1)), mode=Mode.PRIVATE) as cut_extrude5_sk2:
        with Locations((-40.5, -138)):
            Circle(SKETCH6_R)
    cut_extrude5_tool2 = extrude(cut_extrude5_sk2.sketch, amount=-CUT_EXTRUDE5_REACH, mode=Mode.PRIVATE) & part.part
    # Sketch6 → Cut-Extrude5 (cut, up to next)
    with BuildSketch(Plane(origin=(0, 0, 0), x_dir=(-1, 0, 0), z_dir=(0, 0, -1)), mode=Mode.PRIVATE) as cut_extrude5_sk3:
        with Locations((-64.5, -162)):
            Circle(SKETCH6_R)
    cut_extrude5_tool3 = extrude(cut_extrude5_sk3.sketch, amount=-CUT_EXTRUDE5_REACH, mode=Mode.PRIVATE) & part.part
    # Sketch6 → Cut-Extrude5 (cut, up to next)
    with BuildSketch(Plane(origin=(0, 0, 0), x_dir=(-1, 0, 0), z_dir=(0, 0, -1)), mode=Mode.PRIVATE) as cut_extrude5_sk4:
        with Locations((-40.5, -162)):
            Circle(SKETCH6_R)
    cut_extrude5_tool4 = extrude(cut_extrude5_sk4.sketch, amount=-CUT_EXTRUDE5_REACH, mode=Mode.PRIVATE) & part.part
    # Sketch6 → Cut-Extrude5 (cut, up to next)
    with BuildSketch(Plane(origin=(0, 0, 0), x_dir=(-1, 0, 0), z_dir=(0, 0, -1)), mode=Mode.PRIVATE) as cut_extrude5_sk5:
        with Locations((-52.5, -150)):
            Circle(SKETCH6_R_2)
    cut_extrude5_tool5 = extrude(cut_extrude5_sk5.sketch, amount=-CUT_EXTRUDE5_REACH, mode=Mode.PRIVATE) & part.part
    add(cut_extrude5_tool1.solids().sort_by_distance((64.5, -138, 0))[0], mode=Mode.SUBTRACT)
    add(cut_extrude5_tool2.solids().sort_by_distance((40.5, -138, 0))[0], mode=Mode.SUBTRACT)
    add(cut_extrude5_tool3.solids().sort_by_distance((64.5, -162, 0))[0], mode=Mode.SUBTRACT)
    add(cut_extrude5_tool4.solids().sort_by_distance((40.5, -162, 0))[0], mode=Mode.SUBTRACT)
    add(cut_extrude5_tool5.solids().sort_by_distance((52.5, -150, 0))[0], mode=Mode.SUBTRACT)

    # Fillet2
    fillet2_edges = [part.edges().sort_by_distance(p)[0] for p in [
        (67.5, -125, 3),
        (37.5, -125, 3),
        (37.5, -165, 3),
        (67.5, -165, 3),
    ]]
    fillet(fillet2_edges, radius=FILLET2_R)


solid = part.part
